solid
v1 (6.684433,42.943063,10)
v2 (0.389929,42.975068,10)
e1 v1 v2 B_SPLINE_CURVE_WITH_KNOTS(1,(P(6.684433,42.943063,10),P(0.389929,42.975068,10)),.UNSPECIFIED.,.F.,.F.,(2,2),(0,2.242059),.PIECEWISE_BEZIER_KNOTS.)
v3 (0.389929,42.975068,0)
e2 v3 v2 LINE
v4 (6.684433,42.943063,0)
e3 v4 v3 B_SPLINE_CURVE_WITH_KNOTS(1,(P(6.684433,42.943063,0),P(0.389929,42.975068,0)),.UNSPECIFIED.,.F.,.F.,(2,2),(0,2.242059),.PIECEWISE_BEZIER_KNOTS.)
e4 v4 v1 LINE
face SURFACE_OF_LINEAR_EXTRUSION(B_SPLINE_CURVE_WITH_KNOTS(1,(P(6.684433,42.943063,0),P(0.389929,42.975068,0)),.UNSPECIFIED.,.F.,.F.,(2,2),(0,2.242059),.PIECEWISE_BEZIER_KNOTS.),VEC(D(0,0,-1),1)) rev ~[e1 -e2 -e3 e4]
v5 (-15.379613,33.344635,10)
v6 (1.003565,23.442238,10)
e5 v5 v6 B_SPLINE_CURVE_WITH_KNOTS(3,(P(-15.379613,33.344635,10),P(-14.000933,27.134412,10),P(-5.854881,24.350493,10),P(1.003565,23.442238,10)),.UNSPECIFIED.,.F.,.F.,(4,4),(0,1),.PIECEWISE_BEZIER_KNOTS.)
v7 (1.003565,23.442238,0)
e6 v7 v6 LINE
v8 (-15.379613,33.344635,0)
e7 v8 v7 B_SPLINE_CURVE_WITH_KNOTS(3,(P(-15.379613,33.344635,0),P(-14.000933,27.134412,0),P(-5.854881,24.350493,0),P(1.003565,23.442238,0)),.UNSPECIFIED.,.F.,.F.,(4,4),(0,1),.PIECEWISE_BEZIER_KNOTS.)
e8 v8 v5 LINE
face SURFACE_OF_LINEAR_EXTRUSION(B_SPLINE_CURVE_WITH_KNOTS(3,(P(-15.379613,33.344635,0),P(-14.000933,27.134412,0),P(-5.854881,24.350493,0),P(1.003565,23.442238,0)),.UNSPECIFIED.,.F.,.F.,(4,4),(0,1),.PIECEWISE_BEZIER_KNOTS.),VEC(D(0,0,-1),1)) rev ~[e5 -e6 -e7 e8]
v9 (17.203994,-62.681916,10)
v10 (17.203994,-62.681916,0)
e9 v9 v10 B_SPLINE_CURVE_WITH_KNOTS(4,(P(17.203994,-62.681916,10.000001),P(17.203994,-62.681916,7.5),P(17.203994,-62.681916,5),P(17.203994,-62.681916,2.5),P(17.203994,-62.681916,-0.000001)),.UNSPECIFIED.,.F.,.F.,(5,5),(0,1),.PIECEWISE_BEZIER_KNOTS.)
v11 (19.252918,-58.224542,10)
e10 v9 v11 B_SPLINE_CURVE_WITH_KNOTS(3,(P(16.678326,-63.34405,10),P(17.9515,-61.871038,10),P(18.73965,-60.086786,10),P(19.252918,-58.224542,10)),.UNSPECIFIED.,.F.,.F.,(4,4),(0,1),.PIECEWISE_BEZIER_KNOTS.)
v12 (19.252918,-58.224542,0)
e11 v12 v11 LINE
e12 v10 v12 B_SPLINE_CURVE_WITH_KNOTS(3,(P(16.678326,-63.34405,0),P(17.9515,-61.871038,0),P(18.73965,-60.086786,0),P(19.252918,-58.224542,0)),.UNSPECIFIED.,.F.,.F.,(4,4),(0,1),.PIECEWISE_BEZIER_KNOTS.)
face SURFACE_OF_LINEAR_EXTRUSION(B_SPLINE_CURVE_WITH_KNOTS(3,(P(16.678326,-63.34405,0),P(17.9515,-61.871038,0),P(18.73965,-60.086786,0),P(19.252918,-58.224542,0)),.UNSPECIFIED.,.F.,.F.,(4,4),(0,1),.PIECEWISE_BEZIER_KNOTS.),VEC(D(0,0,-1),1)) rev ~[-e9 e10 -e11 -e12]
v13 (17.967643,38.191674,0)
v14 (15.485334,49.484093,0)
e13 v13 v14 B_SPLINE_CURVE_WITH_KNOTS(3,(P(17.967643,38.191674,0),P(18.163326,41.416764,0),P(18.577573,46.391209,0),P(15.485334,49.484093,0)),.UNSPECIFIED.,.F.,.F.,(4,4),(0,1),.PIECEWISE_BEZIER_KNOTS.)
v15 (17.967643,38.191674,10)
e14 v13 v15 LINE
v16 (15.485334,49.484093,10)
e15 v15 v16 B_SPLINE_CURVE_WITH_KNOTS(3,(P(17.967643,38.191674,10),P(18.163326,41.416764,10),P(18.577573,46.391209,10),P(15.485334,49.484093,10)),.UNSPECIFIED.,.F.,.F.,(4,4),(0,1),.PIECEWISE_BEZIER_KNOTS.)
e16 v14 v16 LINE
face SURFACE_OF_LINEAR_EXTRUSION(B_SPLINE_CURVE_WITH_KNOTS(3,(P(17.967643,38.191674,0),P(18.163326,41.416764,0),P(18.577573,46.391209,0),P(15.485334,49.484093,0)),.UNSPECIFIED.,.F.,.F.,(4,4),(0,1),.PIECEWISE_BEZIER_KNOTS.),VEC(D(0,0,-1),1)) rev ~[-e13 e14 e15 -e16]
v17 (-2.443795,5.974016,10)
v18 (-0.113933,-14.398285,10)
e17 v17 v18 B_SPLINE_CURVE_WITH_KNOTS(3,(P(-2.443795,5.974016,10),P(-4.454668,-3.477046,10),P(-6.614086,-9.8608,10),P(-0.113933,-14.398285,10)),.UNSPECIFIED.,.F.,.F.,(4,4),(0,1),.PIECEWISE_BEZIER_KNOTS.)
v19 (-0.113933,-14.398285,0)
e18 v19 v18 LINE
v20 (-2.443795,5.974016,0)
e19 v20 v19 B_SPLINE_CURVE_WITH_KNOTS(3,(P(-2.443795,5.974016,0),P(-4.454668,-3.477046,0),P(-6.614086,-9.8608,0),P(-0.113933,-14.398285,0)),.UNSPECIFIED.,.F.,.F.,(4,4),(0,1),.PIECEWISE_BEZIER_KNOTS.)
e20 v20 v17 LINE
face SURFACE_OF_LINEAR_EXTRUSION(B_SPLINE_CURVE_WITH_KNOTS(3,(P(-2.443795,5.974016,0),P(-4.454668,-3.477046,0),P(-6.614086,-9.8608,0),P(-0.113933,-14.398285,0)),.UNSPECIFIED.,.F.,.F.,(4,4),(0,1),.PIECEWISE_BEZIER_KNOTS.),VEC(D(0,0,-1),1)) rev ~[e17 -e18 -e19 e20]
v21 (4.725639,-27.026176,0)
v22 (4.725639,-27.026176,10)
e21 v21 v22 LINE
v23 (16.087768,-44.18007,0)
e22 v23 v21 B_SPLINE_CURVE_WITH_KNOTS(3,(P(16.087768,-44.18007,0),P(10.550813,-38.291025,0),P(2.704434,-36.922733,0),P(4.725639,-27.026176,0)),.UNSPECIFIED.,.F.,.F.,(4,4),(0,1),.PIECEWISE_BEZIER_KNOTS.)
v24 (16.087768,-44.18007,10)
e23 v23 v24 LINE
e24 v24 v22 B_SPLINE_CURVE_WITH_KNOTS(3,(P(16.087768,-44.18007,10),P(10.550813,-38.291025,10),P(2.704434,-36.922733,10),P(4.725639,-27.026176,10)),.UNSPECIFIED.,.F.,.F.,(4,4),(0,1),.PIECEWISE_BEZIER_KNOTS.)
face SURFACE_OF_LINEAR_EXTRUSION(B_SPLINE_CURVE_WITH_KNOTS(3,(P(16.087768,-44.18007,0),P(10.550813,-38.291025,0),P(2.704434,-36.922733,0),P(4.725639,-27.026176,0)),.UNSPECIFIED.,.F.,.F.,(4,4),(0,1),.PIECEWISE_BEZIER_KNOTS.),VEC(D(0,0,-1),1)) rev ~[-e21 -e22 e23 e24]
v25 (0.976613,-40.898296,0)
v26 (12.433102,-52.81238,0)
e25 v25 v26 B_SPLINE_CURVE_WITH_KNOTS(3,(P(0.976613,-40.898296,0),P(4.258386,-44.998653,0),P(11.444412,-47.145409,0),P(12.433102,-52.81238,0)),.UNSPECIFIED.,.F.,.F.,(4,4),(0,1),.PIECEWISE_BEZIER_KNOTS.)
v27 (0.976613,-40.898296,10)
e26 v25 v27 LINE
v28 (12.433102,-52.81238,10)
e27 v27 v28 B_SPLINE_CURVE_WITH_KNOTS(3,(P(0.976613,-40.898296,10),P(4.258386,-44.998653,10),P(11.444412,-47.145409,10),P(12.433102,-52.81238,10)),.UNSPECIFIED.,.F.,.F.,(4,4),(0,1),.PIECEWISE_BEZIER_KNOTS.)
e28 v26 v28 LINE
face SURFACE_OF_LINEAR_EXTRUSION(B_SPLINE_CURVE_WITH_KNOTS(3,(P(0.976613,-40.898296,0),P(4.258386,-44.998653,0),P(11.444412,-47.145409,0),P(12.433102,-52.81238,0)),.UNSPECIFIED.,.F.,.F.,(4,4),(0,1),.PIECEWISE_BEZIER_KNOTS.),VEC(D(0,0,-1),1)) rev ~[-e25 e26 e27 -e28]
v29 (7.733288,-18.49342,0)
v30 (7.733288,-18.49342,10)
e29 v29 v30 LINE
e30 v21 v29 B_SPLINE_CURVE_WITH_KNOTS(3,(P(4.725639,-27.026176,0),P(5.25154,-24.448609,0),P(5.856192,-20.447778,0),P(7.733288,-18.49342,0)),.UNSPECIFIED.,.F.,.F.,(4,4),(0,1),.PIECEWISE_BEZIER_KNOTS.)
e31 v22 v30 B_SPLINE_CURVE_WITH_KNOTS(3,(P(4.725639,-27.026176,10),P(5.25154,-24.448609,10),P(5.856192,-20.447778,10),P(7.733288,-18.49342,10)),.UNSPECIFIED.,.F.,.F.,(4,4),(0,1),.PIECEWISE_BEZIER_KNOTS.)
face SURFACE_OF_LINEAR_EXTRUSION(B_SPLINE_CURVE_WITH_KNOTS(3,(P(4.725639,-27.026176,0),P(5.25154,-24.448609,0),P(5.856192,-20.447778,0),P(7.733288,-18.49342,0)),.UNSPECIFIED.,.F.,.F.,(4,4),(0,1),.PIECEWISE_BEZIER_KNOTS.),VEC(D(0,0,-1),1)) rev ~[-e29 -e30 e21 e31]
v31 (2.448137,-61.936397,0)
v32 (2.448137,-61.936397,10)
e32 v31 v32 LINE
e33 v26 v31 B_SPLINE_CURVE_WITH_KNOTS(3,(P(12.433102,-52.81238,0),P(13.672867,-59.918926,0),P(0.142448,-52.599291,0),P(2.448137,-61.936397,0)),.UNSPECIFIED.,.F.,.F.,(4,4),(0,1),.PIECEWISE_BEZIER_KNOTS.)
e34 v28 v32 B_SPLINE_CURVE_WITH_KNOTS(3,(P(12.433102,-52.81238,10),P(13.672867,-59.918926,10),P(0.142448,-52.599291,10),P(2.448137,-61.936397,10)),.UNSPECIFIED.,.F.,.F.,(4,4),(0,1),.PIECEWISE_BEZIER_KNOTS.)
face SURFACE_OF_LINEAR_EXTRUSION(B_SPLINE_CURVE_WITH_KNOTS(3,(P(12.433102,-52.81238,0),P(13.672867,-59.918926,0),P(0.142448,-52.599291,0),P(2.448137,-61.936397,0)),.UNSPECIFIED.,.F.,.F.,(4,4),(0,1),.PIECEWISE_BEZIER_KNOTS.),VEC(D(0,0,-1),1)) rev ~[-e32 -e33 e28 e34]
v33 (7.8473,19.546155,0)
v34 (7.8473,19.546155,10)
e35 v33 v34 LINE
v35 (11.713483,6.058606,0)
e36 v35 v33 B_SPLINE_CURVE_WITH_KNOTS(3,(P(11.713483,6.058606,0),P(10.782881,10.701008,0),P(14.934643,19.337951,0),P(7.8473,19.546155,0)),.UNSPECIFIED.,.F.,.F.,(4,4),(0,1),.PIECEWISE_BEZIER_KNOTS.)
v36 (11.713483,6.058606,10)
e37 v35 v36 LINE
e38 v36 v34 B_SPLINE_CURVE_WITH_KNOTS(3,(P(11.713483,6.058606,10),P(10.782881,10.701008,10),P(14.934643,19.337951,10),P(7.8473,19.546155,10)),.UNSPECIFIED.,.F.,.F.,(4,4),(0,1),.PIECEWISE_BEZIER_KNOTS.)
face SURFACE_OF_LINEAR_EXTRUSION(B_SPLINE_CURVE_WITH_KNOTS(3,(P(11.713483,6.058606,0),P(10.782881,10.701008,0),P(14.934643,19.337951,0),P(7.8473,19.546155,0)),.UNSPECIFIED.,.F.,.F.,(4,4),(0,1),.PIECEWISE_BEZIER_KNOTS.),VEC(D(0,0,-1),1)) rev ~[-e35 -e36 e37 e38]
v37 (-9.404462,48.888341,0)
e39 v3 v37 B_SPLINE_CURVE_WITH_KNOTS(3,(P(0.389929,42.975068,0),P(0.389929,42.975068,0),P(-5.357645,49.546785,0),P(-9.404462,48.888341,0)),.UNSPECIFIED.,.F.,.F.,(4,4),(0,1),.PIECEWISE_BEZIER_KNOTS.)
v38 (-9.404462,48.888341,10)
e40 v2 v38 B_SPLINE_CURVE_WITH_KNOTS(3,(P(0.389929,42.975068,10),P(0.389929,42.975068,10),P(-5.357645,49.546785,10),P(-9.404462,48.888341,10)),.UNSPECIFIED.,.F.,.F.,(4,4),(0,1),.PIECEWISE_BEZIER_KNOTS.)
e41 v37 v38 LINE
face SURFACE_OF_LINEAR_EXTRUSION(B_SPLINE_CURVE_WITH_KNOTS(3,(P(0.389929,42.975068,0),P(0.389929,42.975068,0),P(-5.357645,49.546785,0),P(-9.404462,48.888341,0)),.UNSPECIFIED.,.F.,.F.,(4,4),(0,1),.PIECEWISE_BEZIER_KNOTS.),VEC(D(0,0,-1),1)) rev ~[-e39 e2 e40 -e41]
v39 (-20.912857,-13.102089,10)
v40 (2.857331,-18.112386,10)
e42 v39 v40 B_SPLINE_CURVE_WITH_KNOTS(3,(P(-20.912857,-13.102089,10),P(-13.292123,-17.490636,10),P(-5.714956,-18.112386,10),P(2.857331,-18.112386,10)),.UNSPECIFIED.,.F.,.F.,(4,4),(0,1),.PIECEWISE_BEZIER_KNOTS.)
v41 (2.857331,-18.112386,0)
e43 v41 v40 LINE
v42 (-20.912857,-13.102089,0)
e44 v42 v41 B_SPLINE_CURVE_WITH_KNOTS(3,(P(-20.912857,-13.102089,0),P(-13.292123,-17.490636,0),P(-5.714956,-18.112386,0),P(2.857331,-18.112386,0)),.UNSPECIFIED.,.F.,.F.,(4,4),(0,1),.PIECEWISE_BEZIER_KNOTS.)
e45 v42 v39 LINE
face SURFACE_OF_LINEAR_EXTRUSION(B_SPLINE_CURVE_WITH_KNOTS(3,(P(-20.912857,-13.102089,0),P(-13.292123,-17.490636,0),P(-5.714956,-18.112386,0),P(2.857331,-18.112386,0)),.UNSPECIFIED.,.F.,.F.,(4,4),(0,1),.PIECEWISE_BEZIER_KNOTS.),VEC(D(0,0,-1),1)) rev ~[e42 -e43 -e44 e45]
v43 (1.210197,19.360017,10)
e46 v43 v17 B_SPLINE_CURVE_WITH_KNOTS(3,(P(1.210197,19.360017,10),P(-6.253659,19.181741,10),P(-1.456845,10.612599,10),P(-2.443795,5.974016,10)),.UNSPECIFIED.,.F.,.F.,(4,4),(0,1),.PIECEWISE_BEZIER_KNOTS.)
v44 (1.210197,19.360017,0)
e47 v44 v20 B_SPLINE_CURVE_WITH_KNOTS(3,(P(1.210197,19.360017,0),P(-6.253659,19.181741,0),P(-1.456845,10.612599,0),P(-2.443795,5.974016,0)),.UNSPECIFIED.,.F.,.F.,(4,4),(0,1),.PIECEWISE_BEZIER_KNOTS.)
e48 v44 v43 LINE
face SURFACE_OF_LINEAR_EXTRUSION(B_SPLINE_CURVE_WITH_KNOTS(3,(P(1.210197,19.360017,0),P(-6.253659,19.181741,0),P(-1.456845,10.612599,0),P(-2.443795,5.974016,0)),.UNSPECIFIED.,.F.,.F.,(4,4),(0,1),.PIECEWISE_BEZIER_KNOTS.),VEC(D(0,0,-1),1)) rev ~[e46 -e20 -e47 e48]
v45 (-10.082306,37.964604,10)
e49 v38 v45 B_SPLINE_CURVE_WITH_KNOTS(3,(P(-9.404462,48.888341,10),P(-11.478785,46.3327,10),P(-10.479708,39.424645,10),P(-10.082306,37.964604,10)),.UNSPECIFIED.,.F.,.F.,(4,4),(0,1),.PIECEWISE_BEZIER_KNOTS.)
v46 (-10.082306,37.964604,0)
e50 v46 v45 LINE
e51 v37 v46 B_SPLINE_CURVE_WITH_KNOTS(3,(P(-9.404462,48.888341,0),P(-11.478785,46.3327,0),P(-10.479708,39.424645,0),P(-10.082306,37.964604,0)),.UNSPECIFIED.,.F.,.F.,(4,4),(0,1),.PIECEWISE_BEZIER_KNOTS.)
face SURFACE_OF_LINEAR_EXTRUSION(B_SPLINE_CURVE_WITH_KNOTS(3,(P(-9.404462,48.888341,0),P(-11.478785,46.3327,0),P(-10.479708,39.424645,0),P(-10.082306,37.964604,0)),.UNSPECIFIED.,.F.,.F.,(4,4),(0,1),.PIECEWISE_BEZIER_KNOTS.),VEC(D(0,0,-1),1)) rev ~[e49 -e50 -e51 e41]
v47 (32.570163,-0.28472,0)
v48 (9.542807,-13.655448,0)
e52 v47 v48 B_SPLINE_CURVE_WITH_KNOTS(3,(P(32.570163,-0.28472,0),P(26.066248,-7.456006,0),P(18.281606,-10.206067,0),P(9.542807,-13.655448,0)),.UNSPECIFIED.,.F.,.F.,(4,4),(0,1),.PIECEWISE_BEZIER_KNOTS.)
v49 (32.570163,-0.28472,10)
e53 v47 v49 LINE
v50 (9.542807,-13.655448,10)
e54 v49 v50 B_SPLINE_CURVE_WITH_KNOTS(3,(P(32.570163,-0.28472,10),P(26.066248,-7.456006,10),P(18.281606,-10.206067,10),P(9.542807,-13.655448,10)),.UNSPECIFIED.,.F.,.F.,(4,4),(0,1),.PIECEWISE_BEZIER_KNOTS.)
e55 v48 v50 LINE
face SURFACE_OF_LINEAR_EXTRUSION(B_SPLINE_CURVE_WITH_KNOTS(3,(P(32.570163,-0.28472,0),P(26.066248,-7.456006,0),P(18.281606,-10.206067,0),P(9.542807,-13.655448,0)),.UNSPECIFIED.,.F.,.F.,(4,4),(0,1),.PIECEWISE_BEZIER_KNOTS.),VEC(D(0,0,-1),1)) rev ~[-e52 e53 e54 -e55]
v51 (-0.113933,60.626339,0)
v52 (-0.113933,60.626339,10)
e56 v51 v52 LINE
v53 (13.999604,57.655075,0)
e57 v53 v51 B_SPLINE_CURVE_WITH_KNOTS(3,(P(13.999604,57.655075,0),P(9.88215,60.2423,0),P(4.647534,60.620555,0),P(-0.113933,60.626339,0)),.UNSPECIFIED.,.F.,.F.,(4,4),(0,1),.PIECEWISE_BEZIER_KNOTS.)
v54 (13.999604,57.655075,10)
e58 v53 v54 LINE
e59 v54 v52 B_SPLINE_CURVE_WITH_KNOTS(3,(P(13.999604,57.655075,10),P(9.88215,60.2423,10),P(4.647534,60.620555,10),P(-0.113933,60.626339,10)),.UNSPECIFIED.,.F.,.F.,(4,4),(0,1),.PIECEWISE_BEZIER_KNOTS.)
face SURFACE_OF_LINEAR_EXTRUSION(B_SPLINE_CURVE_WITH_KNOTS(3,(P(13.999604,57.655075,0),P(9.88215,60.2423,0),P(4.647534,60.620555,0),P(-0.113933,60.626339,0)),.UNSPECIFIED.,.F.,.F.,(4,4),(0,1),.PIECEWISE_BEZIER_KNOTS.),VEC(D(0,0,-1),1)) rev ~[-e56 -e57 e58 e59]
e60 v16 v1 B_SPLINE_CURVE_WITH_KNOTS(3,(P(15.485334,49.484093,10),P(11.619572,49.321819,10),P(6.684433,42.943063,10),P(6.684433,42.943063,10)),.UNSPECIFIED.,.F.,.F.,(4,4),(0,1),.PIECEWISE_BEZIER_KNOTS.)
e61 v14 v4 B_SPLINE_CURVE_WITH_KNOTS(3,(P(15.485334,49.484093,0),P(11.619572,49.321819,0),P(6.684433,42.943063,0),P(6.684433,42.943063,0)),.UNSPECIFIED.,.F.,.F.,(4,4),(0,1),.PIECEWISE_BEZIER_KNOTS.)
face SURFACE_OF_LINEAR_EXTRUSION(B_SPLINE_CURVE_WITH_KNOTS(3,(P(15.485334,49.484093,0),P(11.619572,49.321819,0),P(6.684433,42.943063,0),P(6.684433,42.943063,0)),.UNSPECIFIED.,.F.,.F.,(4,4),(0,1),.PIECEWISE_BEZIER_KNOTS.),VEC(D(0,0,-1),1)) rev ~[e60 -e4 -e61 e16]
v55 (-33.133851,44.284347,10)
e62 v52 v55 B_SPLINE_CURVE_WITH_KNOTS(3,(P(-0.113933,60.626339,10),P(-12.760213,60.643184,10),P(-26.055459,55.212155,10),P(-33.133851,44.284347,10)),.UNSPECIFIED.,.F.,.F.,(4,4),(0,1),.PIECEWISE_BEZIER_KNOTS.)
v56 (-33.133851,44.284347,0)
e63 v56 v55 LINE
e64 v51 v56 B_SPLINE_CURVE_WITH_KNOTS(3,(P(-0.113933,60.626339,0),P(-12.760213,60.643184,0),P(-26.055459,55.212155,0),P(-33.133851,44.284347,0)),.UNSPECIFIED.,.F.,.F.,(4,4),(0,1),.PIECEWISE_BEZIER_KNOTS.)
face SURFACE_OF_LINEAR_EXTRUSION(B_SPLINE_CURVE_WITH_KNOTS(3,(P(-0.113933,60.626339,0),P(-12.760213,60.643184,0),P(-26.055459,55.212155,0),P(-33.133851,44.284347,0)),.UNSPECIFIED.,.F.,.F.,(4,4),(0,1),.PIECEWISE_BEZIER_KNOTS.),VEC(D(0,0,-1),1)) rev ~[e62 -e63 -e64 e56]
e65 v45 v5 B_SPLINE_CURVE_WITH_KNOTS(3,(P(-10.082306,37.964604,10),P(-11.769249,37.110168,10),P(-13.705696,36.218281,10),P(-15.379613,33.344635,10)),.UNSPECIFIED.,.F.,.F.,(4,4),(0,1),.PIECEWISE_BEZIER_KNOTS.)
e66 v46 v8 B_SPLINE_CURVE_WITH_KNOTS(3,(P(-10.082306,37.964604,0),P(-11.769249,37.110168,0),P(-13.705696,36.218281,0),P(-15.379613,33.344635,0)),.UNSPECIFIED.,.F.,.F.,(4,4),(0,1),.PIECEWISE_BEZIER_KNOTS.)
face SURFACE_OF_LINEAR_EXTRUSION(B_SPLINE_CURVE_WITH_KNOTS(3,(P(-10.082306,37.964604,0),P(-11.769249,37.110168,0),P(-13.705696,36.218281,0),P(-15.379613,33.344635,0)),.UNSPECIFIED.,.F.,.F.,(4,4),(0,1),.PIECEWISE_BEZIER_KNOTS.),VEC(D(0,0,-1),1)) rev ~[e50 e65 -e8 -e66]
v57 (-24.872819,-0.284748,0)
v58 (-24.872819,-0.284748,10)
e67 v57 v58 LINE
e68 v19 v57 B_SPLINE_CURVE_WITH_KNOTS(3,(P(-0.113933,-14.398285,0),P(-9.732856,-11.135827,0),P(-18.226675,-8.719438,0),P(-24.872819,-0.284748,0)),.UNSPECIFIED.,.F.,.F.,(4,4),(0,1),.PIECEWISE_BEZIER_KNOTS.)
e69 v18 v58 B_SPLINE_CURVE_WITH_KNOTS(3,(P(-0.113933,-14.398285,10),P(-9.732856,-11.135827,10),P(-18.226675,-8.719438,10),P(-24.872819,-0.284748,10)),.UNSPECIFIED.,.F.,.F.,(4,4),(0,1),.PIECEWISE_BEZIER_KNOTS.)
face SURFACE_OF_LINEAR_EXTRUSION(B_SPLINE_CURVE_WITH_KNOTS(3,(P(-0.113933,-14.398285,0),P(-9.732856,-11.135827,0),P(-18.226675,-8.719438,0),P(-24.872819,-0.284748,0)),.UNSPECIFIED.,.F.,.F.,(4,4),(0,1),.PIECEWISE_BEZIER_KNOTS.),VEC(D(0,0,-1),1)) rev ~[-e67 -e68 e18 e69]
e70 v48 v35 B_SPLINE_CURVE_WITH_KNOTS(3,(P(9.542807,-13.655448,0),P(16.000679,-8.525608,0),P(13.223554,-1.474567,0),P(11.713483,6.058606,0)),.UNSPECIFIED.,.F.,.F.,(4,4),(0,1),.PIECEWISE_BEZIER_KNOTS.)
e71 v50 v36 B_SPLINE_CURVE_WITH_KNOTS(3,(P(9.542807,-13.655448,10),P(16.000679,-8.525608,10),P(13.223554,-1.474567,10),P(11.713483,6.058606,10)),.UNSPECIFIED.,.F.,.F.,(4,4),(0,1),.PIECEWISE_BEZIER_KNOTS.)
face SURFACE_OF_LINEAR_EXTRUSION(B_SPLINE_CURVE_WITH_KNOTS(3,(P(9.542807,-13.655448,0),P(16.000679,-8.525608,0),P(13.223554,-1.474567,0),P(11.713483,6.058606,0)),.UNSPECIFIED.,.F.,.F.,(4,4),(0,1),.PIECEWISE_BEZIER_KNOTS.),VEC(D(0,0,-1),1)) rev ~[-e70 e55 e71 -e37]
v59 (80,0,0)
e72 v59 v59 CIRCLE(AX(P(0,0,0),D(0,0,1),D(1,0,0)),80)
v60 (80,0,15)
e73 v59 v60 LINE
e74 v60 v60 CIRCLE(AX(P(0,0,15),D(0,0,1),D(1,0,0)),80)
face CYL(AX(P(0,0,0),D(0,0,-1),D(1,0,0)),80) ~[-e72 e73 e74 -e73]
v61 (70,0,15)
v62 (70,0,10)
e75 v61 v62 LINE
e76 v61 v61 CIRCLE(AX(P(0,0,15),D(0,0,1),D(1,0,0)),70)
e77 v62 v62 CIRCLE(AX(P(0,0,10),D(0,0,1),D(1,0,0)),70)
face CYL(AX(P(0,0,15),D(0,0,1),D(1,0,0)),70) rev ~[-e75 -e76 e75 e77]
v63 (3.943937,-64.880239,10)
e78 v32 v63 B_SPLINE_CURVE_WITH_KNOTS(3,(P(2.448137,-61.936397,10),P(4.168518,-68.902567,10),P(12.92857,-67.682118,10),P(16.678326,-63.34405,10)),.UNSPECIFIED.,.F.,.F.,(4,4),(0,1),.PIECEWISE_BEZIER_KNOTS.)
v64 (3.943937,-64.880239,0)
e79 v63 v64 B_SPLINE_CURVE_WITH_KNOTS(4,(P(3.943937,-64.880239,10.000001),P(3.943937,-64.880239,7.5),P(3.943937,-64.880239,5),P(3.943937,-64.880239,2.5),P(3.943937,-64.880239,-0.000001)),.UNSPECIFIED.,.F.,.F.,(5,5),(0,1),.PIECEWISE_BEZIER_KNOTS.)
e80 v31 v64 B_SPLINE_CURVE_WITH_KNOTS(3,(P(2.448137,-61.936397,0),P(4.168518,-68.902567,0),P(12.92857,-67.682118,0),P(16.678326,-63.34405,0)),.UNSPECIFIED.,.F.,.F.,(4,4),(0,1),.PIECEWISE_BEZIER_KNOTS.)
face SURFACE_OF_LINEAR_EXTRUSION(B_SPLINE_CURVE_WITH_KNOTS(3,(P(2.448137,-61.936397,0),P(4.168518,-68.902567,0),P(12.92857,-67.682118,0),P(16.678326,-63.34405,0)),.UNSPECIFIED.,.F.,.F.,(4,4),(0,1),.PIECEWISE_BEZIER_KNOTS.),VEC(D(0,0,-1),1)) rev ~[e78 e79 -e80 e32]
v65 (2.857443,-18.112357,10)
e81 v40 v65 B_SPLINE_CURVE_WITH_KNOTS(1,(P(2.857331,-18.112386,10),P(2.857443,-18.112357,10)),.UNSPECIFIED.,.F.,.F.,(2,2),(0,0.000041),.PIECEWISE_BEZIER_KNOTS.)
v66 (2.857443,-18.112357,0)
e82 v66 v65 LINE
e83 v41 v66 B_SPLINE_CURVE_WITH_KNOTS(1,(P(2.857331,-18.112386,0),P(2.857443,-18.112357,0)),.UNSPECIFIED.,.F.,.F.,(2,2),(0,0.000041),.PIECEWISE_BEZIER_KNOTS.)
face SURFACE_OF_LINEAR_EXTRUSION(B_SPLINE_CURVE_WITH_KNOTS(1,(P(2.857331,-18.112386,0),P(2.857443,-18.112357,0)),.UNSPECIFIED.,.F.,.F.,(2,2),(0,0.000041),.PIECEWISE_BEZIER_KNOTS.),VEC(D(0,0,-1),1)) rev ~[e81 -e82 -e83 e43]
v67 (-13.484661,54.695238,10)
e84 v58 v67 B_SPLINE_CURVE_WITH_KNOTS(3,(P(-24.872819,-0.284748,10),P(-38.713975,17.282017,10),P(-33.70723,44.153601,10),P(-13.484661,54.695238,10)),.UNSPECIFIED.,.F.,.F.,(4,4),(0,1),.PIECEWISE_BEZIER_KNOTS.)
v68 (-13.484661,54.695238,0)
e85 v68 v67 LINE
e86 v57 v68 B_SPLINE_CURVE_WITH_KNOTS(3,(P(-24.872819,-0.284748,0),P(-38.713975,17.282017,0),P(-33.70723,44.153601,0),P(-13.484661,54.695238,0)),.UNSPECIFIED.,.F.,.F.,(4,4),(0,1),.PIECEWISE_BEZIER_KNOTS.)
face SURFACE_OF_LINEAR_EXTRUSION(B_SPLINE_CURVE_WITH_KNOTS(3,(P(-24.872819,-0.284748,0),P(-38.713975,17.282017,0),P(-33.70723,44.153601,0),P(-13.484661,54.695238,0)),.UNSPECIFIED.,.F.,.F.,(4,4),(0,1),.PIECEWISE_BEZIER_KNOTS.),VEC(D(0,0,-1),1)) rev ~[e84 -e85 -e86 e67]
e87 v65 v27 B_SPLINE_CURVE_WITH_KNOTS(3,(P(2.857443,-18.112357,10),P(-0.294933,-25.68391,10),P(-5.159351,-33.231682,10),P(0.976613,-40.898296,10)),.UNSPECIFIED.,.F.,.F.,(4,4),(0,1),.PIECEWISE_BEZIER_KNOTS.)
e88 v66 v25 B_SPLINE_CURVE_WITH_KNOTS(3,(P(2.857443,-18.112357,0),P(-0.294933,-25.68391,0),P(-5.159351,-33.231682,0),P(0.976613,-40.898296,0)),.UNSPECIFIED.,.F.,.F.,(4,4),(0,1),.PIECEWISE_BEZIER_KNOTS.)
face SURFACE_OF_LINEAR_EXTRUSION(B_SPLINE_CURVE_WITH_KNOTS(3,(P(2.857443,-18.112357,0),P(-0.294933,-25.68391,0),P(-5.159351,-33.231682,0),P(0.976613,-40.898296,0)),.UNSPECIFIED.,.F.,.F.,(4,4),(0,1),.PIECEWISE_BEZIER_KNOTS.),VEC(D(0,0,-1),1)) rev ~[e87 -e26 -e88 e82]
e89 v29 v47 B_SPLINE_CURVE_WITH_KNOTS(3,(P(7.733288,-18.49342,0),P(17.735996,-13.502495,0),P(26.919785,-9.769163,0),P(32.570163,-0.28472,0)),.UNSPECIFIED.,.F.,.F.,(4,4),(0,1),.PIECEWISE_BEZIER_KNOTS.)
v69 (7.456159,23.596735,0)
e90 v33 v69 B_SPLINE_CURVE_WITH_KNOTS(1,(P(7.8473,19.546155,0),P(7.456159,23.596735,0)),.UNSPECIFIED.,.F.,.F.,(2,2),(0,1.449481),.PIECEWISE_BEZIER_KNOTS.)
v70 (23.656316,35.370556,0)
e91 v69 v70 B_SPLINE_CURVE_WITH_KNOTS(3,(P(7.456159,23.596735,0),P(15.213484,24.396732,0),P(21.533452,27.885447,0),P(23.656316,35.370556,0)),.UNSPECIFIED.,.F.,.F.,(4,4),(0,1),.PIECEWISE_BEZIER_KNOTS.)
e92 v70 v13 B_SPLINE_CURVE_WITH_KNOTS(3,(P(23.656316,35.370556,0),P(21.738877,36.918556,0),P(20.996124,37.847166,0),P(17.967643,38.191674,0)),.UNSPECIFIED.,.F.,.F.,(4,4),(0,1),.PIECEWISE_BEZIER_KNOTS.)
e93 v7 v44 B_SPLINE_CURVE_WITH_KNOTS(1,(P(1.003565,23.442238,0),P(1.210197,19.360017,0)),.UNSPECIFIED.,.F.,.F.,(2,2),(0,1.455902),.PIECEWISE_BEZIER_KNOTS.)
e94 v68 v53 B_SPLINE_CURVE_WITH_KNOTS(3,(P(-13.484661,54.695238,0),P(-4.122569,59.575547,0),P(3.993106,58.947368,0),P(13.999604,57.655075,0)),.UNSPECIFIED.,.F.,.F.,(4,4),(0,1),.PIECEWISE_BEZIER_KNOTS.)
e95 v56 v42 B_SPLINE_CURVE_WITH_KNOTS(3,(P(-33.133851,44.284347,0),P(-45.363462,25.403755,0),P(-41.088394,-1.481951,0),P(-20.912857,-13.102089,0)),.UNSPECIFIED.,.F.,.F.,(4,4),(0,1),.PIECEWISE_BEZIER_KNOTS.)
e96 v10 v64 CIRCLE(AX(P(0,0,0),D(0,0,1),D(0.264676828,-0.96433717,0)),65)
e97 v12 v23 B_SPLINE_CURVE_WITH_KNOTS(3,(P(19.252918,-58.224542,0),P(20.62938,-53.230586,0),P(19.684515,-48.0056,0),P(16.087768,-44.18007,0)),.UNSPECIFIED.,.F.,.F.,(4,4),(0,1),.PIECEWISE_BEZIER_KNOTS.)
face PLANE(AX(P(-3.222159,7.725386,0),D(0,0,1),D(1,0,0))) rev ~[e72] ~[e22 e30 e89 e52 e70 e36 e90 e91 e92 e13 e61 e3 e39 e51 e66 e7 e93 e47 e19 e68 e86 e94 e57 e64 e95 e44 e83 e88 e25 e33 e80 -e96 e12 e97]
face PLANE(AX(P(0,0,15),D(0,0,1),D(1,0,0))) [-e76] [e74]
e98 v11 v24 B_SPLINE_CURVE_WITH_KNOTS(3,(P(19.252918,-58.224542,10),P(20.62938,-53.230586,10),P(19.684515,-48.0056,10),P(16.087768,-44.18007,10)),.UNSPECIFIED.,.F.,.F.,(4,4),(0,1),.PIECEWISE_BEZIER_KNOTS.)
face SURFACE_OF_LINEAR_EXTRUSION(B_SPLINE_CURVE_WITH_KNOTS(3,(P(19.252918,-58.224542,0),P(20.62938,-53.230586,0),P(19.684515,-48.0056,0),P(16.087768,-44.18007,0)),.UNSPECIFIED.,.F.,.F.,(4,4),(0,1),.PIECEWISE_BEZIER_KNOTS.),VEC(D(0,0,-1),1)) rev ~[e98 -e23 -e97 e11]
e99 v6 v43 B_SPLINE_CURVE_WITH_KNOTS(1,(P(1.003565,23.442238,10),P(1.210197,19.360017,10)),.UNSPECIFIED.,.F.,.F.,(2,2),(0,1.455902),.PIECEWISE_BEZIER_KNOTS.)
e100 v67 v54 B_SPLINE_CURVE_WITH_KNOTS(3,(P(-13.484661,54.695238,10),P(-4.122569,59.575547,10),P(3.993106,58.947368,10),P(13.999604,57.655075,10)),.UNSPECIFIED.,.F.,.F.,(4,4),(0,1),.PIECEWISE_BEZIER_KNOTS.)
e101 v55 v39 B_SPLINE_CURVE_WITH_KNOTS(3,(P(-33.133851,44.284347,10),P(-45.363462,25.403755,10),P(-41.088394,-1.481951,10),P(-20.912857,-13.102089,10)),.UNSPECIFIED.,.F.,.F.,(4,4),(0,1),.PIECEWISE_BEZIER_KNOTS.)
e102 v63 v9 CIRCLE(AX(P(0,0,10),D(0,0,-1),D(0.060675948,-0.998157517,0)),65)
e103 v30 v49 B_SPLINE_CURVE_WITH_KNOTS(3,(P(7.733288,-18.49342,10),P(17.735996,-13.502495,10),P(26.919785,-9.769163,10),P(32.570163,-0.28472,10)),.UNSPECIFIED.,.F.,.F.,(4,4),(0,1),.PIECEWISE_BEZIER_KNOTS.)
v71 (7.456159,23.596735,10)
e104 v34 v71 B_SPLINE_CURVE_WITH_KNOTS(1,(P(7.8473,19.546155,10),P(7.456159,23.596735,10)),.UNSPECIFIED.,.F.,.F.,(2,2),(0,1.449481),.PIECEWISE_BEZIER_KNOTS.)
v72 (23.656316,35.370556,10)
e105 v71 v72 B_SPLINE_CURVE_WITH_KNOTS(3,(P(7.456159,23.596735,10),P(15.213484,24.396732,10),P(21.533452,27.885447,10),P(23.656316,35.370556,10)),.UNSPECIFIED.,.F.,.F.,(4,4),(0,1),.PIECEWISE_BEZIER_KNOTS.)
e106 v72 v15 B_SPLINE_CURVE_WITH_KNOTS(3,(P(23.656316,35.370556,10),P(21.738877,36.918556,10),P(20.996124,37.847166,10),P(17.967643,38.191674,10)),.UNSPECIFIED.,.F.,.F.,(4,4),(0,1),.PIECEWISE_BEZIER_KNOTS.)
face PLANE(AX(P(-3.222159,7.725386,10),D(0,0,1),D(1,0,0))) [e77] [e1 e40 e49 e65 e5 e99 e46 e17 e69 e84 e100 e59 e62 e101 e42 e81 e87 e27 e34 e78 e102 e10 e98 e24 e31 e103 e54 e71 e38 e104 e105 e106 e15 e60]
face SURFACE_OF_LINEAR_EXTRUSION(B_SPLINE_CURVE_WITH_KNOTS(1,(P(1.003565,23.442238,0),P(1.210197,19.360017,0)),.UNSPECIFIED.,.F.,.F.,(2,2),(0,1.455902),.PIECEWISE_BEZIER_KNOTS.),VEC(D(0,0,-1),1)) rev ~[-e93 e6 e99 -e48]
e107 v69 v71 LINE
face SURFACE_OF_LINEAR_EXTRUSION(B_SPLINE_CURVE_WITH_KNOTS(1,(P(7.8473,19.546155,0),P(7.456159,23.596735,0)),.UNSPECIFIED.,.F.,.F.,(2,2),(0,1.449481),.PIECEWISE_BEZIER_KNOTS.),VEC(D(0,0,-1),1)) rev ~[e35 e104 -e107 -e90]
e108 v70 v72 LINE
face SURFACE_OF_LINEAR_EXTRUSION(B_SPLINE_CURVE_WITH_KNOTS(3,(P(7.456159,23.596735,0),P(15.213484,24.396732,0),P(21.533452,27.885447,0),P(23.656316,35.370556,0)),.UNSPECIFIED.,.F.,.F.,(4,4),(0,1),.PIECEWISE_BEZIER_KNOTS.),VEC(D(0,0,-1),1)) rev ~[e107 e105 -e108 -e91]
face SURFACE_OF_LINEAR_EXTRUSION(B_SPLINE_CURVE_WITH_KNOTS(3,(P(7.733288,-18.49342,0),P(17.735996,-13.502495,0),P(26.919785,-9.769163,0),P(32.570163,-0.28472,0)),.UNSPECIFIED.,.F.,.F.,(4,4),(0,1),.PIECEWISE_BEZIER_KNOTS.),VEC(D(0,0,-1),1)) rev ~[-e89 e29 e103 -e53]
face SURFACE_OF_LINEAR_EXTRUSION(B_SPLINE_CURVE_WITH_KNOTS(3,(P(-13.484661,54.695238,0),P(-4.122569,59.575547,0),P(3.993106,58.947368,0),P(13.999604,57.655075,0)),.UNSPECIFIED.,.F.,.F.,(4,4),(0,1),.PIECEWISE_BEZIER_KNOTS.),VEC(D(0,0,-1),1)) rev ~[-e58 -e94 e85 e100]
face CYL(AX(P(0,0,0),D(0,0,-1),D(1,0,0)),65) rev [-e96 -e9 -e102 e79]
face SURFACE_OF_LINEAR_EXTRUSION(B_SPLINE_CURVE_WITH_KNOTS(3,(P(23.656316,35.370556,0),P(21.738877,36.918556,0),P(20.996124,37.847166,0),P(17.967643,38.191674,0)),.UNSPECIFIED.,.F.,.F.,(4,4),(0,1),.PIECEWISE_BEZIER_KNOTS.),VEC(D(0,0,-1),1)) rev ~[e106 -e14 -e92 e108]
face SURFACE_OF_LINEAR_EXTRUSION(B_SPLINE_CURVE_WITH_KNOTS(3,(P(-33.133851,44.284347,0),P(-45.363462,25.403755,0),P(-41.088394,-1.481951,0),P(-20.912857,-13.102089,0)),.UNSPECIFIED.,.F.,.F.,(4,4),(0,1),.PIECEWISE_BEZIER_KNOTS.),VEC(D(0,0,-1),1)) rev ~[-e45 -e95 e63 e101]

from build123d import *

# Parameters (mm, degrees)
PAD002_DEPTH  = 10
SKETCH_R      = 80
SKETCH_R_2    = 65
PAD_DEPTH     = 15
SKETCH001_R   = 70
SKETCH001_R_2 = 65
POCKET_DEPTH  = 5


with BuildPart() as design005:
    # Sketch004 → Pad002 (new body)
    with BuildSketch(Plane.XY):
        with BuildLine():
            add(Edge.make_bspline(
                [(2.857443, -18.112357), (-0.294933, -25.68391), (-5.159351, -33.231682), (0.976613, -40.898296)],
                knots=[0, 0, 0, 0, 1, 1, 1, 1], degree=3))
            add(Edge.make_bspline(
                [(0.976613, -40.898296), (4.258386, -44.998653), (11.444412, -47.145409), (12.433102, -52.81238)],
                knots=[0, 0, 0, 0, 1, 1, 1, 1], degree=3))
            add(Edge.make_bspline(
                [(12.433102, -52.81238), (13.672867, -59.918926), (0.142448, -52.599291), (2.448137, -61.936397)],
                knots=[0, 0, 0, 0, 1, 1, 1, 1], degree=3))
            add(Edge.make_bspline(
                [(2.448137, -61.936397), (4.168518, -68.902567), (12.92857, -67.682118), (16.678326, -63.34405)],
                knots=[0, 0, 0, 0, 1, 1, 1, 1], degree=3))
            add(Edge.make_bspline(
                [(16.678326, -63.34405), (17.9515, -61.871038), (18.73965, -60.086786), (19.252918, -58.224542)],
                knots=[0, 0, 0, 0, 1, 1, 1, 1], degree=3))
            add(Edge.make_bspline(
                [(19.252918, -58.224542), (20.62938, -53.230586), (19.684515, -48.0056), (16.087768, -44.18007)],
                knots=[0, 0, 0, 0, 1, 1, 1, 1], degree=3))
            add(Edge.make_bspline(
                [(16.087768, -44.18007), (10.550813, -38.291025), (2.704434, -36.922733), (4.725639, -27.026176)],
                knots=[0, 0, 0, 0, 1, 1, 1, 1], degree=3))
            add(Edge.make_bspline(
                [(4.725639, -27.026176), (5.25154, -24.448609), (5.856192, -20.447778), (7.733288, -18.49342)],
                knots=[0, 0, 0, 0, 1, 1, 1, 1], degree=3))
            add(Edge.make_bspline(
                [(7.733288, -18.49342), (17.735996, -13.502495), (26.919785, -9.769163), (32.570163, -0.28472)],
                knots=[0, 0, 0, 0, 1, 1, 1, 1], degree=3))
            add(Edge.make_bspline(
                [(32.570163, -0.28472), (26.066248, -7.456006), (18.281606, -10.206067), (9.542807, -13.655448)],
                knots=[0, 0, 0, 0, 1, 1, 1, 1], degree=3))
            add(Edge.make_bspline(
                [(9.542807, -13.655448), (16.000679, -8.525608), (13.223554, -1.474567), (11.713483, 6.058606)],
                knots=[0, 0, 0, 0, 1, 1, 1, 1], degree=3))
            add(Edge.make_bspline(
                [(11.713483, 6.058606), (10.782881, 10.701008), (14.934643, 19.337951), (7.8473, 19.546155)],
                knots=[0, 0, 0, 0, 1, 1, 1, 1], degree=3))
            add(Edge.make_bspline(
                [(7.8473, 19.546155), (7.456159, 23.596735)],
                knots=[0, 0, 1.449481, 1.449481], degree=1))
            add(Edge.make_bspline(
                [(7.456159, 23.596735), (15.213484, 24.396732), (21.533452, 27.885447), (23.656316, 35.370556)],
                knots=[0, 0, 0, 0, 1, 1, 1, 1], degree=3))
            add(Edge.make_bspline(
                [(23.656316, 35.370556), (21.738877, 36.918556), (20.996124, 37.847166), (17.967643, 38.191674)],
                knots=[0, 0, 0, 0, 1, 1, 1, 1], degree=3))
            add(Edge.make_bspline(
                [(17.967643, 38.191674), (18.163326, 41.416764), (18.577573, 46.391209), (15.485334, 49.484093)],
                knots=[0, 0, 0, 0, 1, 1, 1, 1], degree=3))
            add(Edge.make_bspline(
                [(15.485334, 49.484093), (11.619572, 49.321819), (6.684433, 42.943063), (6.684433, 42.943063)],
                knots=[0, 0, 0, 0, 1, 1, 1, 1], degree=3))
            add(Edge.make_bspline(
                [(6.684433, 42.943063), (0.389929, 42.975068)],
                knots=[0, 0, 2.242059, 2.242059], degree=1))
            add(Edge.make_bspline(
                [(0.389929, 42.975068), (0.389929, 42.975068), (-5.357645, 49.546785), (-9.404462, 48.888341)],
                knots=[0, 0, 0, 0, 1, 1, 1, 1], degree=3))
            add(Edge.make_bspline(
                [(-9.404462, 48.888341), (-11.478785, 46.3327), (-10.479708, 39.424645), (-10.082306, 37.964604)],
                knots=[0, 0, 0, 0, 1, 1, 1, 1], degree=3))
            add(Edge.make_bspline(
                [(-10.082306, 37.964604), (-11.769249, 37.110168), (-13.705696, 36.218281), (-15.379613, 33.344635)],
                knots=[0, 0, 0, 0, 1, 1, 1, 1], degree=3))
            add(Edge.make_bspline(
                [(-15.379613, 33.344635), (-14.000933, 27.134412), (-5.854881, 24.350493), (1.003565, 23.442238)],
                knots=[0, 0, 0, 0, 1, 1, 1, 1], degree=3))
            add(Edge.make_bspline(
                [(1.003565, 23.442238), (1.210197, 19.360017)],
                knots=[0, 0, 1.455902, 1.455902], degree=1))
            add(Edge.make_bspline(
                [(1.210197, 19.360017), (-6.253659, 19.181741), (-1.456845, 10.612599), (-2.443795, 5.974016)],
                knots=[0, 0, 0, 0, 1, 1, 1, 1], degree=3))
            add(Edge.make_bspline(
                [(-2.443795, 5.974016), (-4.454668, -3.477046), (-6.614086, -9.8608), (-0.113933, -14.398285)],
                knots=[0, 0, 0, 0, 1, 1, 1, 1], degree=3))
            add(Edge.make_bspline(
                [(-0.113933, -14.398285), (-9.732856, -11.135827), (-18.226675, -8.719438), (-24.872819, -0.284748)],
                knots=[0, 0, 0, 0, 1, 1, 1, 1], degree=3))
            add(Edge.make_bspline(
                [(-24.872819, -0.284748), (-38.713975, 17.282017), (-33.70723, 44.153601), (-13.484661, 54.695238)],
                knots=[0, 0, 0, 0, 1, 1, 1, 1], degree=3))
            add(Edge.make_bspline(
                [(-13.484661, 54.695238), (-4.122569, 59.575547), (3.993106, 58.947368), (13.999604, 57.655075)],
                knots=[0, 0, 0, 0, 1, 1, 1, 1], degree=3))
            add(Edge.make_bspline(
                [(13.999604, 57.655075), (9.88215, 60.2423), (4.647534, 60.620555), (-0.113933, 60.626339)],
                knots=[0, 0, 0, 0, 1, 1, 1, 1], degree=3))
            add(Edge.make_bspline(
                [(-0.113933, 60.626339), (-12.760213, 60.643184), (-26.055459, 55.212155), (-33.133851, 44.284347)],
                knots=[0, 0, 0, 0, 1, 1, 1, 1], degree=3))
            add(Edge.make_bspline(
                [(-33.133851, 44.284347), (-45.363462, 25.403755), (-41.088394, -1.481951), (-20.912857, -13.102089)],
                knots=[0, 0, 0, 0, 1, 1, 1, 1], degree=3))
            add(Edge.make_bspline(
                [(-20.912857, -13.102089), (-13.292123, -17.490636), (-5.714956, -18.112386), (2.857331, -18.112386)],
                knots=[0, 0, 0, 0, 1, 1, 1, 1], degree=3))
            add(Edge.make_bspline(
                [(2.857331, -18.112386), (2.857443, -18.112357)],
                knots=[0, 0, 4.1e-05, 4.1e-05], degree=1))
        make_face()
    extrude(amount=PAD002_DEPTH)


with BuildPart() as half_lamp_with_design:
    # Sketch → Pad (new body)
    with BuildSketch(Plane.XY):
        Circle(SKETCH_R)
        Circle(SKETCH_R_2, mode=Mode.SUBTRACT)
    extrude(amount=PAD_DEPTH)

    # Sketch001 (on Face4 of Pad) → Pocket (cut)
    with BuildSketch(Plane.XY.offset(15)):
        Circle(SKETCH001_R)
        Circle(SKETCH001_R_2, mode=Mode.SUBTRACT)
    extrude(amount=-POCKET_DEPTH, mode=Mode.SUBTRACT)

    # Boolean: union design005
    add(design005.part)


solid = half_lamp_with_design.part
